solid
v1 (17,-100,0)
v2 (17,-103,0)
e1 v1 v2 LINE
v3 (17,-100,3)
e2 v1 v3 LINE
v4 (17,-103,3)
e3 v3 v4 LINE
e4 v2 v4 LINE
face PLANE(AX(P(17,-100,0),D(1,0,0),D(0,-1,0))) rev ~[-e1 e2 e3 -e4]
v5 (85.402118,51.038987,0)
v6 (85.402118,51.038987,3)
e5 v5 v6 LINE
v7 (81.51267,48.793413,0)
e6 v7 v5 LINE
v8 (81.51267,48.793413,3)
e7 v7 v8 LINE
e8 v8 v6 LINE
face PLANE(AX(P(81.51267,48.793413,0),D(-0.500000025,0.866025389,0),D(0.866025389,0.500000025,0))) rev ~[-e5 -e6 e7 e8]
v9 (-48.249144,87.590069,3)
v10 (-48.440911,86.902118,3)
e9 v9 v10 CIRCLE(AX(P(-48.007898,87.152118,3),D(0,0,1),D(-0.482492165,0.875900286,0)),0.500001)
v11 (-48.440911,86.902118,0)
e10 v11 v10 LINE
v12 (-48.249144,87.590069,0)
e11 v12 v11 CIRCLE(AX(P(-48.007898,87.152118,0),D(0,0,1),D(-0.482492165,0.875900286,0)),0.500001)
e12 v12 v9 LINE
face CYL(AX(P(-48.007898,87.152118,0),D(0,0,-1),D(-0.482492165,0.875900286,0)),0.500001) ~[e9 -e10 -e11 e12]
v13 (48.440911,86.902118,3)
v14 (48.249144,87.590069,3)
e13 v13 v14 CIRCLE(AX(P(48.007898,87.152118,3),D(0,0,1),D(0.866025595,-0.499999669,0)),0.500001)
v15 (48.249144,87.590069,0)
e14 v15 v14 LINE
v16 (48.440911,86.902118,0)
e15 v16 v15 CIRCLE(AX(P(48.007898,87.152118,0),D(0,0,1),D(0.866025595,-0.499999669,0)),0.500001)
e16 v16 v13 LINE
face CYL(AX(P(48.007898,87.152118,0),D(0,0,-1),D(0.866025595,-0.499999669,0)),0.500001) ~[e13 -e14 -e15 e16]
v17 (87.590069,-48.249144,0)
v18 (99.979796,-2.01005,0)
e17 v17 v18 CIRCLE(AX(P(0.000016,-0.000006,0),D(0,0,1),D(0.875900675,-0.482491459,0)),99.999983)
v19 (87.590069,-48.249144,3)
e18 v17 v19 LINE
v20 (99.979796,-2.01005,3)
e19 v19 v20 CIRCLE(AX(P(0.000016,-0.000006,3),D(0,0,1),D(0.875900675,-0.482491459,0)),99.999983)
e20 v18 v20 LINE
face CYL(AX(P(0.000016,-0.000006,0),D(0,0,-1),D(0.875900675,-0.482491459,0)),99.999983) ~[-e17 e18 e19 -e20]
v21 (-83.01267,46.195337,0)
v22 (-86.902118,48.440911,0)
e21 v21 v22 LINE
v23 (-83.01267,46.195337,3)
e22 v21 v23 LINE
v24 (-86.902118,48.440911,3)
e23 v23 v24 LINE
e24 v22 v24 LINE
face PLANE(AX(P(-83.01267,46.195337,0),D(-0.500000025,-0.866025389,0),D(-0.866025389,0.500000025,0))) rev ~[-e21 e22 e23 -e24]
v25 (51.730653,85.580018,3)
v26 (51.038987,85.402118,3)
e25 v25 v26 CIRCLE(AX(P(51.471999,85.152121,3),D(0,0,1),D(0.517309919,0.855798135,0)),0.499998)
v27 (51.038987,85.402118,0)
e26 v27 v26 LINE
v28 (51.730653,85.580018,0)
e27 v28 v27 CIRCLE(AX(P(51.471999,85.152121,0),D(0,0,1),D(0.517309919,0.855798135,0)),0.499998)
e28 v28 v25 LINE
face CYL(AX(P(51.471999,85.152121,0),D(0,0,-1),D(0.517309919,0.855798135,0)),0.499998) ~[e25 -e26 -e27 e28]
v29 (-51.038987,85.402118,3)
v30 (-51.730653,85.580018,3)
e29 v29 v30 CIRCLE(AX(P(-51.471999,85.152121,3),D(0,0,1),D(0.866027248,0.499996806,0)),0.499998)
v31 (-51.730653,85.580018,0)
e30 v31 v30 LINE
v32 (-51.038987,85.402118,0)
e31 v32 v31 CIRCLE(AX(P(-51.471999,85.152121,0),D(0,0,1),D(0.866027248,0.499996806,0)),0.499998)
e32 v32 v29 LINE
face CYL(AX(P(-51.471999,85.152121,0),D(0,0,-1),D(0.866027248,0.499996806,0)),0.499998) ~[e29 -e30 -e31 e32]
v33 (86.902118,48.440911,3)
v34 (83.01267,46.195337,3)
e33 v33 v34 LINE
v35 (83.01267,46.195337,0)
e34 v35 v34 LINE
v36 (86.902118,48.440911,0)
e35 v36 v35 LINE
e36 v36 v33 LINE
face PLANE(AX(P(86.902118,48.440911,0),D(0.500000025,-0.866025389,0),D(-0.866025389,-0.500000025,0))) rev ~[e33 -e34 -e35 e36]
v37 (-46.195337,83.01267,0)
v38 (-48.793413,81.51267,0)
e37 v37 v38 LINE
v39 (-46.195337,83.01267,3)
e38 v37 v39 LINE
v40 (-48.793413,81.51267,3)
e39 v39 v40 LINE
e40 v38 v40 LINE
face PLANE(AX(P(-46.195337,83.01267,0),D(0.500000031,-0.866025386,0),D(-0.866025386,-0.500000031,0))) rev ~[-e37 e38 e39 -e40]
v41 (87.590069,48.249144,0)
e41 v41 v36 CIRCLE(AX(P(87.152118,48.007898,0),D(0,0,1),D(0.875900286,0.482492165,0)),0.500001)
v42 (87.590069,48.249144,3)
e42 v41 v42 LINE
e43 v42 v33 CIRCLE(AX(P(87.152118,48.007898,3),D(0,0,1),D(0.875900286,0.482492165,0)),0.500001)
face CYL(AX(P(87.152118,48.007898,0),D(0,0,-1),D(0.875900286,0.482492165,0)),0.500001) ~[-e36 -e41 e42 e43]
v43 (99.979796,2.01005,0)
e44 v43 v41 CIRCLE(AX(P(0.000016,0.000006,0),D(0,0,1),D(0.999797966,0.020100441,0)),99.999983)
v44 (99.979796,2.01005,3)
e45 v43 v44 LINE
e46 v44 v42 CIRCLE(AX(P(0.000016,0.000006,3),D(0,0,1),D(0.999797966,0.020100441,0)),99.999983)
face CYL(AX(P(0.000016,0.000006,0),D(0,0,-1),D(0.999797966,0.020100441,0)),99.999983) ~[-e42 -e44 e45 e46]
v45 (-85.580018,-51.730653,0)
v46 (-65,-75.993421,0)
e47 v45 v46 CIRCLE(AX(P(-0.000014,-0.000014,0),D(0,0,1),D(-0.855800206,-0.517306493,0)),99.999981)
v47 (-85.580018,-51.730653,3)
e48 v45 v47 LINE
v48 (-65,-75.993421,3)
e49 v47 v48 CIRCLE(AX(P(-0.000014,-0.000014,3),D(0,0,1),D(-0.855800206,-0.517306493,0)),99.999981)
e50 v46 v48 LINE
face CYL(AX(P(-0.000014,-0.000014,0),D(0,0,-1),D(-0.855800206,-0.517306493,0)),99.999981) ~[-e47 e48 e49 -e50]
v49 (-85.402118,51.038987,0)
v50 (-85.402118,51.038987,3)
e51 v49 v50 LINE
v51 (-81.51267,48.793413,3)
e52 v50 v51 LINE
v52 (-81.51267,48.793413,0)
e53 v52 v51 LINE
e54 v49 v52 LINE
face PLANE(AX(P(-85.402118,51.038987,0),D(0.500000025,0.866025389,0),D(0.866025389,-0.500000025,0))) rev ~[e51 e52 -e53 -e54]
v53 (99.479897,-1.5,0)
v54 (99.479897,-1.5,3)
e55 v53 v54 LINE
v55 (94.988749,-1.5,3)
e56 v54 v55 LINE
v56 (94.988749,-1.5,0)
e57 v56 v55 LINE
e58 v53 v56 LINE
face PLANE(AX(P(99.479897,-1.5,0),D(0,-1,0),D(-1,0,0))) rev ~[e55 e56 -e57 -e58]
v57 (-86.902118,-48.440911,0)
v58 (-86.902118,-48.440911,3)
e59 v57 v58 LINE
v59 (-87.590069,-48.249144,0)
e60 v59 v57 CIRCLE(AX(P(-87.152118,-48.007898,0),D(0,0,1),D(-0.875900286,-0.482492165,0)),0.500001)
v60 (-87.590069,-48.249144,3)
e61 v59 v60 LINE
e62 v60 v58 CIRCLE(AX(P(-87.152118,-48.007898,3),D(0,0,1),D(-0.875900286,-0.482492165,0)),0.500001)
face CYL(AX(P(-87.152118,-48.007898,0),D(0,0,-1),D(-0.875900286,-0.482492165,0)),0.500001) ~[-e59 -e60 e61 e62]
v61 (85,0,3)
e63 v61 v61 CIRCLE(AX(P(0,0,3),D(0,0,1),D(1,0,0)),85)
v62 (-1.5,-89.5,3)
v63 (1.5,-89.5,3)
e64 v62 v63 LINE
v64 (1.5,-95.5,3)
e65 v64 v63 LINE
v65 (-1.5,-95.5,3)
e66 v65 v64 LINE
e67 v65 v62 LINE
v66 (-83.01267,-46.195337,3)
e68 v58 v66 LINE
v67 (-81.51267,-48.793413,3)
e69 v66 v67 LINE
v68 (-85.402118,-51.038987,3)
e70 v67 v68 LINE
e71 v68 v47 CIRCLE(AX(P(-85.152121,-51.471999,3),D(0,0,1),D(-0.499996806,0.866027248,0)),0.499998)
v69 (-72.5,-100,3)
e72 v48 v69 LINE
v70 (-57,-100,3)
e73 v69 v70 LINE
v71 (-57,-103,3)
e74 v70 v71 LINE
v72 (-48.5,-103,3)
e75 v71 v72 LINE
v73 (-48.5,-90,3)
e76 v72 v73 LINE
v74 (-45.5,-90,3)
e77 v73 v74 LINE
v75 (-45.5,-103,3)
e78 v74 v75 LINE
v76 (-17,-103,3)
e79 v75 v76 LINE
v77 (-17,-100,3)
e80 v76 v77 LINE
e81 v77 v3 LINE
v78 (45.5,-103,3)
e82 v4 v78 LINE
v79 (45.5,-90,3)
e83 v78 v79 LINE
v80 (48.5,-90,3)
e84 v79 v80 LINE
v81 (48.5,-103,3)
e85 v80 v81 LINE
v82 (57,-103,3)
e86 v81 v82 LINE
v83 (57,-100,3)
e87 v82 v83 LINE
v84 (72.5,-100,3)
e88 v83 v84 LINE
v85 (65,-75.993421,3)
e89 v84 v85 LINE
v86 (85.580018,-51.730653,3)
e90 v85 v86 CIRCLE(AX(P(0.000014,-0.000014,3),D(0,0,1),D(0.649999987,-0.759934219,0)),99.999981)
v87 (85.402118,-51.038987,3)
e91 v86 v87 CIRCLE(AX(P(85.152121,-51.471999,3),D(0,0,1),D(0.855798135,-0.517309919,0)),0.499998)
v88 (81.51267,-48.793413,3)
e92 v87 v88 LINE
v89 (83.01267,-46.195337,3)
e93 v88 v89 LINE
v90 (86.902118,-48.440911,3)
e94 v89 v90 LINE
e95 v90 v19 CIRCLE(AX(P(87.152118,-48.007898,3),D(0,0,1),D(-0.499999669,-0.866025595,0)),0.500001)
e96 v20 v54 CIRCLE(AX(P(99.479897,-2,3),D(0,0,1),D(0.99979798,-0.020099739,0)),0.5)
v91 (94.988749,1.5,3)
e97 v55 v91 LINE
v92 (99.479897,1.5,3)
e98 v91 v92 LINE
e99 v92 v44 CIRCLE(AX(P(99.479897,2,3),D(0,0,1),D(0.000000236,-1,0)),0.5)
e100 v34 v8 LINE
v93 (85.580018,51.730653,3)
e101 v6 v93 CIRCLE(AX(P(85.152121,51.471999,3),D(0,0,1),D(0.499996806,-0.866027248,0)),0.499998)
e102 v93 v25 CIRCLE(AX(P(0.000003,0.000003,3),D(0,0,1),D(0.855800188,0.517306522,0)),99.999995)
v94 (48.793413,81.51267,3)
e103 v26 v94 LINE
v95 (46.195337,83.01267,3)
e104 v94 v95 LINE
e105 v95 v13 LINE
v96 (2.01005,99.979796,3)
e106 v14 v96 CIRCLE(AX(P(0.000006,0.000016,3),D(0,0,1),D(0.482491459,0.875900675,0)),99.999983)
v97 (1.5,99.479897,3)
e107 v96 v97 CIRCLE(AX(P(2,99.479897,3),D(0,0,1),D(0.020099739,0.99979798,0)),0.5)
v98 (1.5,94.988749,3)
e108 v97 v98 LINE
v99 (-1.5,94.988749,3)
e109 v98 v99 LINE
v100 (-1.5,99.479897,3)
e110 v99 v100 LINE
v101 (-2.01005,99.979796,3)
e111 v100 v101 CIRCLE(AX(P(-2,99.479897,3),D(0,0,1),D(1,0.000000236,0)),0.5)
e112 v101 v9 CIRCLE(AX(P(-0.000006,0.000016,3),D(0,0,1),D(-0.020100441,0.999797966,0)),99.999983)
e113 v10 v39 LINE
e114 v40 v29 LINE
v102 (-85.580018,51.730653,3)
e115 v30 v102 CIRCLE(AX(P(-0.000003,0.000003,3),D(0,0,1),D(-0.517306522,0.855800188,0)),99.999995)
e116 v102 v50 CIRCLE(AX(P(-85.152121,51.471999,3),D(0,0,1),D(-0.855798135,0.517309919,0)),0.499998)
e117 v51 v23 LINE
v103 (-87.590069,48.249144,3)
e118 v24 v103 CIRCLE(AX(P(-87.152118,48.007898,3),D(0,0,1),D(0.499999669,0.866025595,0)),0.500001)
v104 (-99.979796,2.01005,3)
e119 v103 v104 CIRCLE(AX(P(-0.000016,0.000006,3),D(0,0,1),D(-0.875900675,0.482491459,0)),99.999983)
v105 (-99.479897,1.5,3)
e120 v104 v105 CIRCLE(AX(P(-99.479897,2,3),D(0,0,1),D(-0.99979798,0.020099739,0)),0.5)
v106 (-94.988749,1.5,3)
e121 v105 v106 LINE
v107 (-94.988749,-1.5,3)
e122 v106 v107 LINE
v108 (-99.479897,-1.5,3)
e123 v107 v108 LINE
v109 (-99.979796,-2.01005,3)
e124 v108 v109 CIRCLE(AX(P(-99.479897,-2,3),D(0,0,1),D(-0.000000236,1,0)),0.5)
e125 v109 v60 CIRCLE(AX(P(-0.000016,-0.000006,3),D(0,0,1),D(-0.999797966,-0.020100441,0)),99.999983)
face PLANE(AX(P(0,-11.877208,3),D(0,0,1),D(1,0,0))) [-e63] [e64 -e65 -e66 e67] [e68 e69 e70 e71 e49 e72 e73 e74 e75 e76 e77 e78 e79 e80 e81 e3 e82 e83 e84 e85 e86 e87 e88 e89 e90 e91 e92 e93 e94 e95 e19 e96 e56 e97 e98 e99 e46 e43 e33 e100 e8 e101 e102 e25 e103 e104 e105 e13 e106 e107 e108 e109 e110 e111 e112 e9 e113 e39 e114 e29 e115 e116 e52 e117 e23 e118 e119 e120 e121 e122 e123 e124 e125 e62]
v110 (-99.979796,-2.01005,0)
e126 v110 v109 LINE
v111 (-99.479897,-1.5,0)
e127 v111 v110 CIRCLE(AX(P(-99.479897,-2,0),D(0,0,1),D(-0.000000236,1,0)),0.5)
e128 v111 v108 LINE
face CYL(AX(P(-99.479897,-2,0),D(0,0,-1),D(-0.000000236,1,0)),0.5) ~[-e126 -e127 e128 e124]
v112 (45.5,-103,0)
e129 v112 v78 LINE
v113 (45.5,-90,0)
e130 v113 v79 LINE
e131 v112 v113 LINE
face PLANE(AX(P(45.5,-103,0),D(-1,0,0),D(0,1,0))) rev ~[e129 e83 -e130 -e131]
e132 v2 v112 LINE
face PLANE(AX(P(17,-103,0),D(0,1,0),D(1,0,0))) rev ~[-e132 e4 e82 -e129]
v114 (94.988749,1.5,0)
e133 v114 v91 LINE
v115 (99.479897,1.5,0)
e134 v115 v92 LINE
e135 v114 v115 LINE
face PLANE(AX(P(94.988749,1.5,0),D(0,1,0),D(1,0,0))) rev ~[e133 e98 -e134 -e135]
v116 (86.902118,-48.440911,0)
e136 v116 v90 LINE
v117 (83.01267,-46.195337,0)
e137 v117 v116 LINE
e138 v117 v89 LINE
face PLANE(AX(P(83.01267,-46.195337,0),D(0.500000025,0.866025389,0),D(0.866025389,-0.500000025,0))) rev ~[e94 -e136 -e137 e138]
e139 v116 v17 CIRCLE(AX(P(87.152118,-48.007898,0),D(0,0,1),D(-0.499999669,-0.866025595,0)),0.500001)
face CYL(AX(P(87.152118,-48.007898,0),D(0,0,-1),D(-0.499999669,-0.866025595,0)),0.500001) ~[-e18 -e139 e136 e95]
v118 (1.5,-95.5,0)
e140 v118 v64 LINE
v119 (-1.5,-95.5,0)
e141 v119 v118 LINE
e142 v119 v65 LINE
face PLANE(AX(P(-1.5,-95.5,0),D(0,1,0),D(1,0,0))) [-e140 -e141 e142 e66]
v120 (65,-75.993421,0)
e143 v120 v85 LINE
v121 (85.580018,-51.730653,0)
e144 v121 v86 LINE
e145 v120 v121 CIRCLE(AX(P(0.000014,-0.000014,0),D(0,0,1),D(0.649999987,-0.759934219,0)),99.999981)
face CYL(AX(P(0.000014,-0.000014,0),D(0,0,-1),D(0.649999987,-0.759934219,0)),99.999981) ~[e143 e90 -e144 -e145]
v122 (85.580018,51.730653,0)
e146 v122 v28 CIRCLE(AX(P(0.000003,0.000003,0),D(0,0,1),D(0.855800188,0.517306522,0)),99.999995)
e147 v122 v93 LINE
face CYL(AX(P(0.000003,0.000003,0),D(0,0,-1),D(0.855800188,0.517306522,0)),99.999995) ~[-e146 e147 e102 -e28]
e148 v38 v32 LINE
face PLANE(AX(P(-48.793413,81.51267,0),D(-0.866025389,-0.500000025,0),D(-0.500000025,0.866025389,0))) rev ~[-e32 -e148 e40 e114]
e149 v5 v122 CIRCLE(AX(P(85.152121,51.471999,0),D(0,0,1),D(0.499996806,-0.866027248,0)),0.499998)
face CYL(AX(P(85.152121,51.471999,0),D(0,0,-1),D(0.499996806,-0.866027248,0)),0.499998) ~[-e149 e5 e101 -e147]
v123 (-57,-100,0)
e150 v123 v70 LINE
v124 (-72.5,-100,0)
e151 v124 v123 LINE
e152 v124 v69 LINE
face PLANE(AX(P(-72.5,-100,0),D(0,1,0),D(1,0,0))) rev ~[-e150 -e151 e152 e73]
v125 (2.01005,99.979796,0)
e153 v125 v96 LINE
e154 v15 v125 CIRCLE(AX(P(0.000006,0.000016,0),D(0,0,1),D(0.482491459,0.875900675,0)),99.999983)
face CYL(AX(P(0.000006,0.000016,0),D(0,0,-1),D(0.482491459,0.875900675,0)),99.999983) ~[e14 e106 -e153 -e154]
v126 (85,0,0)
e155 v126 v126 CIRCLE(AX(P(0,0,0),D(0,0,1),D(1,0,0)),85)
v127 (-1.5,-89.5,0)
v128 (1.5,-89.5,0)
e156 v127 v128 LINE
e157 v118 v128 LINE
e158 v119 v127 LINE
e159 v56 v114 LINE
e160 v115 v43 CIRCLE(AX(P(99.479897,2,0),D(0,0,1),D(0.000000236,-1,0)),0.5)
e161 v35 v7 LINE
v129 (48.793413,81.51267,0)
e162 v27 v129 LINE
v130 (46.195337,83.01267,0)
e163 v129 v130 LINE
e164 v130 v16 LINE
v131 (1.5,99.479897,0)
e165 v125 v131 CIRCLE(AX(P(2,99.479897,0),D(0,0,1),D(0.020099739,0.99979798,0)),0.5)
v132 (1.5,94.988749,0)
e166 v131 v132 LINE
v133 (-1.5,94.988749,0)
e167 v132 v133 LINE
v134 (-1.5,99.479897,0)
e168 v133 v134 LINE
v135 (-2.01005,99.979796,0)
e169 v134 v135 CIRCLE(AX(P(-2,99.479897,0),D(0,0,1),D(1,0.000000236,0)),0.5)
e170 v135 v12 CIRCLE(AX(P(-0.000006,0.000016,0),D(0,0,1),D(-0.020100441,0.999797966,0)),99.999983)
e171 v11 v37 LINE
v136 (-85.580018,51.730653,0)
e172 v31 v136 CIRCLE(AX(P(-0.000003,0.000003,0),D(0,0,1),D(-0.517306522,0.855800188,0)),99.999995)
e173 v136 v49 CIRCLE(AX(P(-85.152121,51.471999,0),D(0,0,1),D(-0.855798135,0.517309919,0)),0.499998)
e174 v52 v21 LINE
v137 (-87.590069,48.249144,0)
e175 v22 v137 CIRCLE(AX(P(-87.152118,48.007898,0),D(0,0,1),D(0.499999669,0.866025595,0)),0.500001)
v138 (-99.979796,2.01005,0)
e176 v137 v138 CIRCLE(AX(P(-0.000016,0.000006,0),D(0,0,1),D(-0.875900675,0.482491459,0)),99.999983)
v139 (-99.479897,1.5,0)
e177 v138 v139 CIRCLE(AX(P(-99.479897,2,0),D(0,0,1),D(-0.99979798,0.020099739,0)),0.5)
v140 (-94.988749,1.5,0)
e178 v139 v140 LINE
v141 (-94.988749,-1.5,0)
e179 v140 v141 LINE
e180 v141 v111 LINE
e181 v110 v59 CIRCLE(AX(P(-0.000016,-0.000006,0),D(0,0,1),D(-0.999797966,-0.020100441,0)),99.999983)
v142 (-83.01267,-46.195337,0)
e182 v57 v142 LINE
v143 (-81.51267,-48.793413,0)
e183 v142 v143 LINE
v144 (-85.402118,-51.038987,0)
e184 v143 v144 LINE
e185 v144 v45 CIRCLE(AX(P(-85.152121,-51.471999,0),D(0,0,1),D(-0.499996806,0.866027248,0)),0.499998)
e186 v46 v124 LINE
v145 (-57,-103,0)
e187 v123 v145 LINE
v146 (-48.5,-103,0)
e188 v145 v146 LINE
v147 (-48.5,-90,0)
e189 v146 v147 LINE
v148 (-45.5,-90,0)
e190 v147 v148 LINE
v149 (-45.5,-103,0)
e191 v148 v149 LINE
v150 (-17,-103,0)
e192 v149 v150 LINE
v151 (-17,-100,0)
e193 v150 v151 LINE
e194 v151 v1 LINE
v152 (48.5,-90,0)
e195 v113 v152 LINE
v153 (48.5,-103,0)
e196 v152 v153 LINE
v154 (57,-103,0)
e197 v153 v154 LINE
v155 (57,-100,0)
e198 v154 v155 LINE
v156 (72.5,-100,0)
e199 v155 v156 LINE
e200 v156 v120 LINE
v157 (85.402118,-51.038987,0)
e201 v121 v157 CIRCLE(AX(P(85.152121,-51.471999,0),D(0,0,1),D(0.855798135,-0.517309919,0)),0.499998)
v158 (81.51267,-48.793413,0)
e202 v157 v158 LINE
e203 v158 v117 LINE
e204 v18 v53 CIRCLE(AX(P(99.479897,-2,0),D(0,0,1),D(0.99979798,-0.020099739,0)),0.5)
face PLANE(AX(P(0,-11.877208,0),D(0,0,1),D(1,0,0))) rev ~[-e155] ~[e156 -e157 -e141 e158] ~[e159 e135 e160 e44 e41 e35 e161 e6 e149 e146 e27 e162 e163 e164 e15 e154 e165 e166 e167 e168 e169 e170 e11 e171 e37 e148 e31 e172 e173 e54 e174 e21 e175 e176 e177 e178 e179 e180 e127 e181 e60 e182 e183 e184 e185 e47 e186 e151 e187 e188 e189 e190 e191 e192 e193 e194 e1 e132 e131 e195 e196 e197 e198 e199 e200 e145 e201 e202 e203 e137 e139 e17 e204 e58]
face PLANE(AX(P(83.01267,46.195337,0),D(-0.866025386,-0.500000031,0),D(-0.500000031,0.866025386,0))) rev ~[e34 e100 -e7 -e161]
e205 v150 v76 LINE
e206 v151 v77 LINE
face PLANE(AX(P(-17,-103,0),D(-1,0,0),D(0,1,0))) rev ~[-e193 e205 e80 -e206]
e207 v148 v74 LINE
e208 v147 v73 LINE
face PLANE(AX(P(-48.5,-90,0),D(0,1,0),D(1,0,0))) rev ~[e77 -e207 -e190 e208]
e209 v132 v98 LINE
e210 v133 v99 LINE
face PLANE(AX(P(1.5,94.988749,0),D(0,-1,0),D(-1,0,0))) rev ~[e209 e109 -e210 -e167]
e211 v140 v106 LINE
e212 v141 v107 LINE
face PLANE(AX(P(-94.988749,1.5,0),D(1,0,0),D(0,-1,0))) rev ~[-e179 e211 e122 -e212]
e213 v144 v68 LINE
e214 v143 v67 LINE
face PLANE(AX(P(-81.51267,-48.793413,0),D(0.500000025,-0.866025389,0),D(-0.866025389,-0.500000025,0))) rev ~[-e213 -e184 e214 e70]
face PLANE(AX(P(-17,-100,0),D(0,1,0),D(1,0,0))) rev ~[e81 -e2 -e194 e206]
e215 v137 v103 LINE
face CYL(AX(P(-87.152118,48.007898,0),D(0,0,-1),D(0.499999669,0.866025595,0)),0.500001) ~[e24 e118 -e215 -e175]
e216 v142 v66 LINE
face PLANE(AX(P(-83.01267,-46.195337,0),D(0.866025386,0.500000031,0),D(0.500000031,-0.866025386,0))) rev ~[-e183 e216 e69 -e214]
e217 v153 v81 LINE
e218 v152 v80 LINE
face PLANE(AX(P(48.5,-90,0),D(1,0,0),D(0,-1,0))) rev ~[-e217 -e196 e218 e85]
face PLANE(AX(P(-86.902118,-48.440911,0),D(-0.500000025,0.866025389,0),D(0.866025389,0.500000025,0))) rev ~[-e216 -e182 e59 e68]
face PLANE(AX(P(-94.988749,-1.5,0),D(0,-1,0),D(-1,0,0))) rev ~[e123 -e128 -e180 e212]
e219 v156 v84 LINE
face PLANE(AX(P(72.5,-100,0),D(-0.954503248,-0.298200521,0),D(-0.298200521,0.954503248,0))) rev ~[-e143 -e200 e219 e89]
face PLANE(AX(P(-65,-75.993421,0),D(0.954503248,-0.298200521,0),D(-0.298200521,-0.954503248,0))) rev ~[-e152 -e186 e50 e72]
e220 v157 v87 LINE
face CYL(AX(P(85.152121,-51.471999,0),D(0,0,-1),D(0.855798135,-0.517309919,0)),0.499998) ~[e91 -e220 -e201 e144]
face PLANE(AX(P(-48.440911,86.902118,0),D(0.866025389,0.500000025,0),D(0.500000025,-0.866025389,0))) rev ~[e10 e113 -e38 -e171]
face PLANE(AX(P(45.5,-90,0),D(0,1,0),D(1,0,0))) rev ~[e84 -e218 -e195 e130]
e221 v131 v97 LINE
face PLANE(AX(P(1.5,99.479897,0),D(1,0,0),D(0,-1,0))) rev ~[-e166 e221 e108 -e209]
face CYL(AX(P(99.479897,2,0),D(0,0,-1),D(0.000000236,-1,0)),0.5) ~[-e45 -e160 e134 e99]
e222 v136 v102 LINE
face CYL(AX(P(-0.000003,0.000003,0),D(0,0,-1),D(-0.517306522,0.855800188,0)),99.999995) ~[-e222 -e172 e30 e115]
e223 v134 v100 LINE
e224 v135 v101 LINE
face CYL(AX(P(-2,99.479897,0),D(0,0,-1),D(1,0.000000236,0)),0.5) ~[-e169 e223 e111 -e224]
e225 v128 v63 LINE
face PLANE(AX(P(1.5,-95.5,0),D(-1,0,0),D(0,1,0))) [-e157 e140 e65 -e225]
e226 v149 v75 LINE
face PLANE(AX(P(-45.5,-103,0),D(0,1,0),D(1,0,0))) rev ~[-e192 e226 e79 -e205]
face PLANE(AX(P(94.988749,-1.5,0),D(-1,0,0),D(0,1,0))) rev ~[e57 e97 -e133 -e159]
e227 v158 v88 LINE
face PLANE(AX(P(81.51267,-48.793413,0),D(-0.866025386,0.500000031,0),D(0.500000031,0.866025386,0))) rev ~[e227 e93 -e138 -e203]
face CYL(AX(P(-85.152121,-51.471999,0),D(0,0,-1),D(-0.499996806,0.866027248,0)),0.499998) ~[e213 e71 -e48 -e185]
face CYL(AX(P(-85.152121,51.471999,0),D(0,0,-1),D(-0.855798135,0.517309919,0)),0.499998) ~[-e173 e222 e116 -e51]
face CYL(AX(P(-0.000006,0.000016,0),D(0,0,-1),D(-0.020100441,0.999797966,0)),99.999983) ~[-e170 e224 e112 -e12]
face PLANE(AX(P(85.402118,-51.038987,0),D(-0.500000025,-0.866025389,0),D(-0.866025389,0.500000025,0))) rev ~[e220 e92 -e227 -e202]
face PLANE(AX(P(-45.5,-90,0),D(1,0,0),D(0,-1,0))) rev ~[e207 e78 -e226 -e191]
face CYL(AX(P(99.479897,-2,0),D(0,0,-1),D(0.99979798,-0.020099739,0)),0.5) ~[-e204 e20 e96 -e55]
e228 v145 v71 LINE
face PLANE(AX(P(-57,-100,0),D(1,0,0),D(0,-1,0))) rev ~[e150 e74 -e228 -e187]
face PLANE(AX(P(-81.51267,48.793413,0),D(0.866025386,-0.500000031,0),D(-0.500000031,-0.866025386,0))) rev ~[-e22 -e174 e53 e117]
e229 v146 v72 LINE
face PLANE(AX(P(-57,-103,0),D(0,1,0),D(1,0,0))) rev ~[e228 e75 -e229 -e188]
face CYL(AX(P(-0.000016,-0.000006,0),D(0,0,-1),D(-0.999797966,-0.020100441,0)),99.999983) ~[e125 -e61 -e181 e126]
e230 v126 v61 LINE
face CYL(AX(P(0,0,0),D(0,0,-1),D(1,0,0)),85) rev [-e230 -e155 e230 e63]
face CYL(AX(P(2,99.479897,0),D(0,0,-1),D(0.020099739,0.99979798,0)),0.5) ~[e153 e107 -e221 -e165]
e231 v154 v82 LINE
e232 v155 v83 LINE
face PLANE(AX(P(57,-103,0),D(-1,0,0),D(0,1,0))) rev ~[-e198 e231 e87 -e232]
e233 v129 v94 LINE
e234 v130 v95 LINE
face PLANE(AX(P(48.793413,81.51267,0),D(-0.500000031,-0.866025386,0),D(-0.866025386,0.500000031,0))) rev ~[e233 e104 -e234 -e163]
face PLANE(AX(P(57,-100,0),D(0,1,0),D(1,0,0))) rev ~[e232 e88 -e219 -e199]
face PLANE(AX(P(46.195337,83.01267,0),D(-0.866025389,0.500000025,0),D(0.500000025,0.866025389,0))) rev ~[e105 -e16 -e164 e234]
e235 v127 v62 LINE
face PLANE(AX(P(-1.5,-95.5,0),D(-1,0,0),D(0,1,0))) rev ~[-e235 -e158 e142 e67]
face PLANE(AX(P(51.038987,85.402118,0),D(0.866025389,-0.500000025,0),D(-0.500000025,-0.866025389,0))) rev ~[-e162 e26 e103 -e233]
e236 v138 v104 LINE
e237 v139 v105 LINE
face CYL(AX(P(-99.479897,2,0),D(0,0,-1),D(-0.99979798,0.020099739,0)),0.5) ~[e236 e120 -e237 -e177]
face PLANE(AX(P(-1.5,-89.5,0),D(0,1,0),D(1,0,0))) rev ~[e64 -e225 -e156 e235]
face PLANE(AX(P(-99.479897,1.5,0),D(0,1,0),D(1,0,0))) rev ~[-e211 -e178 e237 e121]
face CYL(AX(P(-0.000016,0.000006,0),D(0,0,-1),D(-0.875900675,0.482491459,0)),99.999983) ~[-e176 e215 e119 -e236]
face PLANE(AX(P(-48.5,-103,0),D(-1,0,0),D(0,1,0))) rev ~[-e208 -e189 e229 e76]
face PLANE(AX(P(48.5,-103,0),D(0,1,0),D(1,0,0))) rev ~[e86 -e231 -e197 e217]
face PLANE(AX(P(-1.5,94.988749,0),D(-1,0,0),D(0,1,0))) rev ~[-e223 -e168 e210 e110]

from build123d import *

# Parameters (mm, degrees)
F0_W     = 3
F0_H     = 6
F0_R     = 85
F1_DEPTH = 3


with BuildPart() as f1:
    # F0 (on Top) → F1 (new body)
    with BuildSketch(Plane.XY):
        with BuildLine():
            ThreePointArc((-1.5, 99.479897), (-1.650018, 99.836986), (-2.01005, 99.979796))
            ThreePointArc((-2.01005, 99.979796), (-25.881905, 96.592583), (-48.249144, 87.590069))
            ThreePointArc((-48.249144, 87.590069), (-48.489536, 87.286376), (-48.440911, 86.902118))
            Line((-48.440911, 86.902118), (-46.195337, 83.01267))
            Line((-46.195337, 83.01267), (-48.793413, 81.51267))
            Line((-48.793413, 81.51267), (-51.038987, 85.402118))
            ThreePointArc((-51.038987, 85.402118), (-51.347451, 85.636358), (-51.730653, 85.580018))
            ThreePointArc((-51.730653, 85.580018), (-70.710678, 70.710678), (-85.580018, 51.730653))
            ThreePointArc((-85.580018, 51.730653), (-85.636358, 51.347451), (-85.402118, 51.038987))
            Line((-85.402118, 51.038987), (-81.51267, 48.793413))
            Line((-81.51267, 48.793413), (-83.01267, 46.195337))
            Line((-83.01267, 46.195337), (-86.902118, 48.440911))
            ThreePointArc((-86.902118, 48.440911), (-87.286376, 48.489536), (-87.590069, 48.249144))
            ThreePointArc((-87.590069, 48.249144), (-96.592583, 25.881905), (-99.979796, 2.01005))
            ThreePointArc((-99.979796, 2.01005), (-99.836986, 1.650018), (-99.479897, 1.5))
            Line((-99.479897, 1.5), (-94.988749, 1.5))
            Line((-94.988749, 1.5), (-94.988749, -1.5))
            Line((-94.988749, -1.5), (-99.479897, -1.5))
            ThreePointArc((-99.479897, -1.5), (-99.836986, -1.650018), (-99.979796, -2.01005))
            ThreePointArc((-99.979796, -2.01005), (-96.592583, -25.881905), (-87.590069, -48.249144))
            ThreePointArc((-87.590069, -48.249144), (-87.286376, -48.489536), (-86.902118, -48.440911))
            Line((-86.902118, -48.440911), (-83.01267, -46.195337))
            Line((-83.01267, -46.195337), (-81.51267, -48.793413))
            Line((-81.51267, -48.793413), (-85.402118, -51.038987))
            ThreePointArc((-85.402118, -51.038987), (-85.636358, -51.347451), (-85.580018, -51.730653))
            ThreePointArc((-85.580018, -51.730653), (-76.261104, -64.685733), (-65, -75.993421))
            Line((-65, -75.993421), (-72.5, -100))
            Line((-72.5, -100), (-57, -100))
            Line((-57, -100), (-57, -103))
            Line((-57, -103), (-48.5, -103))
            Line((-48.5, -103), (-48.5, -90))
            Line((-48.5, -90), (-45.5, -90))
            Line((-45.5, -90), (-45.5, -103))
            Line((-45.5, -103), (-17, -103))
            Line((-17, -103), (-17, -100))
            Line((-17, -100), (17, -100))
            Line((17, -100), (17, -103))
            Line((17, -103), (45.5, -103))
            Line((45.5, -103), (45.5, -90))
            Line((45.5, -90), (48.5, -90))
            Line((48.5, -90), (48.5, -103))
            Line((48.5, -103), (57, -103))
            Line((57, -103), (57, -100))
            Line((57, -100), (72.5, -100))
            Line((72.5, -100), (65, -75.993421))
            ThreePointArc((65, -75.993421), (76.261104, -64.685733), (85.580018, -51.730653))
            ThreePointArc((85.580018, -51.730653), (85.636358, -51.347451), (85.402118, -51.038987))
            Line((85.402118, -51.038987), (81.51267, -48.793413))
            Line((81.51267, -48.793413), (83.01267, -46.195337))
            Line((83.01267, -46.195337), (86.902118, -48.440911))
            ThreePointArc((86.902118, -48.440911), (87.286376, -48.489536), (87.590069, -48.249144))
            ThreePointArc((87.590069, -48.249144), (96.592583, -25.881905), (99.979796, -2.01005))
            ThreePointArc((99.979796, -2.01005), (99.836986, -1.650018), (99.479897, -1.5))
            Line((99.479897, -1.5), (94.988749, -1.5))
            Line((94.988749, -1.5), (94.988749, 1.5))
            Line((94.988749, 1.5), (99.479897, 1.5))
            ThreePointArc((99.479897, 1.5), (99.836986, 1.650018), (99.979796, 2.01005))
            ThreePointArc((99.979796, 2.01005), (96.592583, 25.881905), (87.590069, 48.249144))
            ThreePointArc((87.590069, 48.249144), (87.286376, 48.489536), (86.902118, 48.440911))
            Line((86.902118, 48.440911), (83.01267, 46.195337))
            Line((83.01267, 46.195337), (81.51267, 48.793413))
            Line((81.51267, 48.793413), (85.402118, 51.038987))
            ThreePointArc((85.402118, 51.038987), (85.636358, 51.347451), (85.580018, 51.730653))
            ThreePointArc((85.580018, 51.730653), (70.710678, 70.710678), (51.730653, 85.580018))
            ThreePointArc((51.730653, 85.580018), (51.347451, 85.636358), (51.038987, 85.402118))
            Line((51.038987, 85.402118), (48.793413, 81.51267))
            Line((48.793413, 81.51267), (46.195337, 83.01267))
            Line((46.195337, 83.01267), (48.440911, 86.902118))
            ThreePointArc((48.440911, 86.902118), (48.489536, 87.286376), (48.249144, 87.590069))
            ThreePointArc((48.249144, 87.590069), (25.881905, 96.592583), (2.01005, 99.979796))
            ThreePointArc((2.01005, 99.979796), (1.650018, 99.836986), (1.5, 99.479897))
            Line((1.5, 99.479897), (1.5, 94.988749))
            Line((1.5, 94.988749), (-1.5, 94.988749))
            Line((-1.5, 94.988749), (-1.5, 99.479897))
        make_face()
        with Locations((0, -92.5)):
            Rectangle(F0_W, F0_H, mode=Mode.SUBTRACT)
        Circle(F0_R, mode=Mode.SUBTRACT)
    extrude(amount=F1_DEPTH)


solid = f1.part
